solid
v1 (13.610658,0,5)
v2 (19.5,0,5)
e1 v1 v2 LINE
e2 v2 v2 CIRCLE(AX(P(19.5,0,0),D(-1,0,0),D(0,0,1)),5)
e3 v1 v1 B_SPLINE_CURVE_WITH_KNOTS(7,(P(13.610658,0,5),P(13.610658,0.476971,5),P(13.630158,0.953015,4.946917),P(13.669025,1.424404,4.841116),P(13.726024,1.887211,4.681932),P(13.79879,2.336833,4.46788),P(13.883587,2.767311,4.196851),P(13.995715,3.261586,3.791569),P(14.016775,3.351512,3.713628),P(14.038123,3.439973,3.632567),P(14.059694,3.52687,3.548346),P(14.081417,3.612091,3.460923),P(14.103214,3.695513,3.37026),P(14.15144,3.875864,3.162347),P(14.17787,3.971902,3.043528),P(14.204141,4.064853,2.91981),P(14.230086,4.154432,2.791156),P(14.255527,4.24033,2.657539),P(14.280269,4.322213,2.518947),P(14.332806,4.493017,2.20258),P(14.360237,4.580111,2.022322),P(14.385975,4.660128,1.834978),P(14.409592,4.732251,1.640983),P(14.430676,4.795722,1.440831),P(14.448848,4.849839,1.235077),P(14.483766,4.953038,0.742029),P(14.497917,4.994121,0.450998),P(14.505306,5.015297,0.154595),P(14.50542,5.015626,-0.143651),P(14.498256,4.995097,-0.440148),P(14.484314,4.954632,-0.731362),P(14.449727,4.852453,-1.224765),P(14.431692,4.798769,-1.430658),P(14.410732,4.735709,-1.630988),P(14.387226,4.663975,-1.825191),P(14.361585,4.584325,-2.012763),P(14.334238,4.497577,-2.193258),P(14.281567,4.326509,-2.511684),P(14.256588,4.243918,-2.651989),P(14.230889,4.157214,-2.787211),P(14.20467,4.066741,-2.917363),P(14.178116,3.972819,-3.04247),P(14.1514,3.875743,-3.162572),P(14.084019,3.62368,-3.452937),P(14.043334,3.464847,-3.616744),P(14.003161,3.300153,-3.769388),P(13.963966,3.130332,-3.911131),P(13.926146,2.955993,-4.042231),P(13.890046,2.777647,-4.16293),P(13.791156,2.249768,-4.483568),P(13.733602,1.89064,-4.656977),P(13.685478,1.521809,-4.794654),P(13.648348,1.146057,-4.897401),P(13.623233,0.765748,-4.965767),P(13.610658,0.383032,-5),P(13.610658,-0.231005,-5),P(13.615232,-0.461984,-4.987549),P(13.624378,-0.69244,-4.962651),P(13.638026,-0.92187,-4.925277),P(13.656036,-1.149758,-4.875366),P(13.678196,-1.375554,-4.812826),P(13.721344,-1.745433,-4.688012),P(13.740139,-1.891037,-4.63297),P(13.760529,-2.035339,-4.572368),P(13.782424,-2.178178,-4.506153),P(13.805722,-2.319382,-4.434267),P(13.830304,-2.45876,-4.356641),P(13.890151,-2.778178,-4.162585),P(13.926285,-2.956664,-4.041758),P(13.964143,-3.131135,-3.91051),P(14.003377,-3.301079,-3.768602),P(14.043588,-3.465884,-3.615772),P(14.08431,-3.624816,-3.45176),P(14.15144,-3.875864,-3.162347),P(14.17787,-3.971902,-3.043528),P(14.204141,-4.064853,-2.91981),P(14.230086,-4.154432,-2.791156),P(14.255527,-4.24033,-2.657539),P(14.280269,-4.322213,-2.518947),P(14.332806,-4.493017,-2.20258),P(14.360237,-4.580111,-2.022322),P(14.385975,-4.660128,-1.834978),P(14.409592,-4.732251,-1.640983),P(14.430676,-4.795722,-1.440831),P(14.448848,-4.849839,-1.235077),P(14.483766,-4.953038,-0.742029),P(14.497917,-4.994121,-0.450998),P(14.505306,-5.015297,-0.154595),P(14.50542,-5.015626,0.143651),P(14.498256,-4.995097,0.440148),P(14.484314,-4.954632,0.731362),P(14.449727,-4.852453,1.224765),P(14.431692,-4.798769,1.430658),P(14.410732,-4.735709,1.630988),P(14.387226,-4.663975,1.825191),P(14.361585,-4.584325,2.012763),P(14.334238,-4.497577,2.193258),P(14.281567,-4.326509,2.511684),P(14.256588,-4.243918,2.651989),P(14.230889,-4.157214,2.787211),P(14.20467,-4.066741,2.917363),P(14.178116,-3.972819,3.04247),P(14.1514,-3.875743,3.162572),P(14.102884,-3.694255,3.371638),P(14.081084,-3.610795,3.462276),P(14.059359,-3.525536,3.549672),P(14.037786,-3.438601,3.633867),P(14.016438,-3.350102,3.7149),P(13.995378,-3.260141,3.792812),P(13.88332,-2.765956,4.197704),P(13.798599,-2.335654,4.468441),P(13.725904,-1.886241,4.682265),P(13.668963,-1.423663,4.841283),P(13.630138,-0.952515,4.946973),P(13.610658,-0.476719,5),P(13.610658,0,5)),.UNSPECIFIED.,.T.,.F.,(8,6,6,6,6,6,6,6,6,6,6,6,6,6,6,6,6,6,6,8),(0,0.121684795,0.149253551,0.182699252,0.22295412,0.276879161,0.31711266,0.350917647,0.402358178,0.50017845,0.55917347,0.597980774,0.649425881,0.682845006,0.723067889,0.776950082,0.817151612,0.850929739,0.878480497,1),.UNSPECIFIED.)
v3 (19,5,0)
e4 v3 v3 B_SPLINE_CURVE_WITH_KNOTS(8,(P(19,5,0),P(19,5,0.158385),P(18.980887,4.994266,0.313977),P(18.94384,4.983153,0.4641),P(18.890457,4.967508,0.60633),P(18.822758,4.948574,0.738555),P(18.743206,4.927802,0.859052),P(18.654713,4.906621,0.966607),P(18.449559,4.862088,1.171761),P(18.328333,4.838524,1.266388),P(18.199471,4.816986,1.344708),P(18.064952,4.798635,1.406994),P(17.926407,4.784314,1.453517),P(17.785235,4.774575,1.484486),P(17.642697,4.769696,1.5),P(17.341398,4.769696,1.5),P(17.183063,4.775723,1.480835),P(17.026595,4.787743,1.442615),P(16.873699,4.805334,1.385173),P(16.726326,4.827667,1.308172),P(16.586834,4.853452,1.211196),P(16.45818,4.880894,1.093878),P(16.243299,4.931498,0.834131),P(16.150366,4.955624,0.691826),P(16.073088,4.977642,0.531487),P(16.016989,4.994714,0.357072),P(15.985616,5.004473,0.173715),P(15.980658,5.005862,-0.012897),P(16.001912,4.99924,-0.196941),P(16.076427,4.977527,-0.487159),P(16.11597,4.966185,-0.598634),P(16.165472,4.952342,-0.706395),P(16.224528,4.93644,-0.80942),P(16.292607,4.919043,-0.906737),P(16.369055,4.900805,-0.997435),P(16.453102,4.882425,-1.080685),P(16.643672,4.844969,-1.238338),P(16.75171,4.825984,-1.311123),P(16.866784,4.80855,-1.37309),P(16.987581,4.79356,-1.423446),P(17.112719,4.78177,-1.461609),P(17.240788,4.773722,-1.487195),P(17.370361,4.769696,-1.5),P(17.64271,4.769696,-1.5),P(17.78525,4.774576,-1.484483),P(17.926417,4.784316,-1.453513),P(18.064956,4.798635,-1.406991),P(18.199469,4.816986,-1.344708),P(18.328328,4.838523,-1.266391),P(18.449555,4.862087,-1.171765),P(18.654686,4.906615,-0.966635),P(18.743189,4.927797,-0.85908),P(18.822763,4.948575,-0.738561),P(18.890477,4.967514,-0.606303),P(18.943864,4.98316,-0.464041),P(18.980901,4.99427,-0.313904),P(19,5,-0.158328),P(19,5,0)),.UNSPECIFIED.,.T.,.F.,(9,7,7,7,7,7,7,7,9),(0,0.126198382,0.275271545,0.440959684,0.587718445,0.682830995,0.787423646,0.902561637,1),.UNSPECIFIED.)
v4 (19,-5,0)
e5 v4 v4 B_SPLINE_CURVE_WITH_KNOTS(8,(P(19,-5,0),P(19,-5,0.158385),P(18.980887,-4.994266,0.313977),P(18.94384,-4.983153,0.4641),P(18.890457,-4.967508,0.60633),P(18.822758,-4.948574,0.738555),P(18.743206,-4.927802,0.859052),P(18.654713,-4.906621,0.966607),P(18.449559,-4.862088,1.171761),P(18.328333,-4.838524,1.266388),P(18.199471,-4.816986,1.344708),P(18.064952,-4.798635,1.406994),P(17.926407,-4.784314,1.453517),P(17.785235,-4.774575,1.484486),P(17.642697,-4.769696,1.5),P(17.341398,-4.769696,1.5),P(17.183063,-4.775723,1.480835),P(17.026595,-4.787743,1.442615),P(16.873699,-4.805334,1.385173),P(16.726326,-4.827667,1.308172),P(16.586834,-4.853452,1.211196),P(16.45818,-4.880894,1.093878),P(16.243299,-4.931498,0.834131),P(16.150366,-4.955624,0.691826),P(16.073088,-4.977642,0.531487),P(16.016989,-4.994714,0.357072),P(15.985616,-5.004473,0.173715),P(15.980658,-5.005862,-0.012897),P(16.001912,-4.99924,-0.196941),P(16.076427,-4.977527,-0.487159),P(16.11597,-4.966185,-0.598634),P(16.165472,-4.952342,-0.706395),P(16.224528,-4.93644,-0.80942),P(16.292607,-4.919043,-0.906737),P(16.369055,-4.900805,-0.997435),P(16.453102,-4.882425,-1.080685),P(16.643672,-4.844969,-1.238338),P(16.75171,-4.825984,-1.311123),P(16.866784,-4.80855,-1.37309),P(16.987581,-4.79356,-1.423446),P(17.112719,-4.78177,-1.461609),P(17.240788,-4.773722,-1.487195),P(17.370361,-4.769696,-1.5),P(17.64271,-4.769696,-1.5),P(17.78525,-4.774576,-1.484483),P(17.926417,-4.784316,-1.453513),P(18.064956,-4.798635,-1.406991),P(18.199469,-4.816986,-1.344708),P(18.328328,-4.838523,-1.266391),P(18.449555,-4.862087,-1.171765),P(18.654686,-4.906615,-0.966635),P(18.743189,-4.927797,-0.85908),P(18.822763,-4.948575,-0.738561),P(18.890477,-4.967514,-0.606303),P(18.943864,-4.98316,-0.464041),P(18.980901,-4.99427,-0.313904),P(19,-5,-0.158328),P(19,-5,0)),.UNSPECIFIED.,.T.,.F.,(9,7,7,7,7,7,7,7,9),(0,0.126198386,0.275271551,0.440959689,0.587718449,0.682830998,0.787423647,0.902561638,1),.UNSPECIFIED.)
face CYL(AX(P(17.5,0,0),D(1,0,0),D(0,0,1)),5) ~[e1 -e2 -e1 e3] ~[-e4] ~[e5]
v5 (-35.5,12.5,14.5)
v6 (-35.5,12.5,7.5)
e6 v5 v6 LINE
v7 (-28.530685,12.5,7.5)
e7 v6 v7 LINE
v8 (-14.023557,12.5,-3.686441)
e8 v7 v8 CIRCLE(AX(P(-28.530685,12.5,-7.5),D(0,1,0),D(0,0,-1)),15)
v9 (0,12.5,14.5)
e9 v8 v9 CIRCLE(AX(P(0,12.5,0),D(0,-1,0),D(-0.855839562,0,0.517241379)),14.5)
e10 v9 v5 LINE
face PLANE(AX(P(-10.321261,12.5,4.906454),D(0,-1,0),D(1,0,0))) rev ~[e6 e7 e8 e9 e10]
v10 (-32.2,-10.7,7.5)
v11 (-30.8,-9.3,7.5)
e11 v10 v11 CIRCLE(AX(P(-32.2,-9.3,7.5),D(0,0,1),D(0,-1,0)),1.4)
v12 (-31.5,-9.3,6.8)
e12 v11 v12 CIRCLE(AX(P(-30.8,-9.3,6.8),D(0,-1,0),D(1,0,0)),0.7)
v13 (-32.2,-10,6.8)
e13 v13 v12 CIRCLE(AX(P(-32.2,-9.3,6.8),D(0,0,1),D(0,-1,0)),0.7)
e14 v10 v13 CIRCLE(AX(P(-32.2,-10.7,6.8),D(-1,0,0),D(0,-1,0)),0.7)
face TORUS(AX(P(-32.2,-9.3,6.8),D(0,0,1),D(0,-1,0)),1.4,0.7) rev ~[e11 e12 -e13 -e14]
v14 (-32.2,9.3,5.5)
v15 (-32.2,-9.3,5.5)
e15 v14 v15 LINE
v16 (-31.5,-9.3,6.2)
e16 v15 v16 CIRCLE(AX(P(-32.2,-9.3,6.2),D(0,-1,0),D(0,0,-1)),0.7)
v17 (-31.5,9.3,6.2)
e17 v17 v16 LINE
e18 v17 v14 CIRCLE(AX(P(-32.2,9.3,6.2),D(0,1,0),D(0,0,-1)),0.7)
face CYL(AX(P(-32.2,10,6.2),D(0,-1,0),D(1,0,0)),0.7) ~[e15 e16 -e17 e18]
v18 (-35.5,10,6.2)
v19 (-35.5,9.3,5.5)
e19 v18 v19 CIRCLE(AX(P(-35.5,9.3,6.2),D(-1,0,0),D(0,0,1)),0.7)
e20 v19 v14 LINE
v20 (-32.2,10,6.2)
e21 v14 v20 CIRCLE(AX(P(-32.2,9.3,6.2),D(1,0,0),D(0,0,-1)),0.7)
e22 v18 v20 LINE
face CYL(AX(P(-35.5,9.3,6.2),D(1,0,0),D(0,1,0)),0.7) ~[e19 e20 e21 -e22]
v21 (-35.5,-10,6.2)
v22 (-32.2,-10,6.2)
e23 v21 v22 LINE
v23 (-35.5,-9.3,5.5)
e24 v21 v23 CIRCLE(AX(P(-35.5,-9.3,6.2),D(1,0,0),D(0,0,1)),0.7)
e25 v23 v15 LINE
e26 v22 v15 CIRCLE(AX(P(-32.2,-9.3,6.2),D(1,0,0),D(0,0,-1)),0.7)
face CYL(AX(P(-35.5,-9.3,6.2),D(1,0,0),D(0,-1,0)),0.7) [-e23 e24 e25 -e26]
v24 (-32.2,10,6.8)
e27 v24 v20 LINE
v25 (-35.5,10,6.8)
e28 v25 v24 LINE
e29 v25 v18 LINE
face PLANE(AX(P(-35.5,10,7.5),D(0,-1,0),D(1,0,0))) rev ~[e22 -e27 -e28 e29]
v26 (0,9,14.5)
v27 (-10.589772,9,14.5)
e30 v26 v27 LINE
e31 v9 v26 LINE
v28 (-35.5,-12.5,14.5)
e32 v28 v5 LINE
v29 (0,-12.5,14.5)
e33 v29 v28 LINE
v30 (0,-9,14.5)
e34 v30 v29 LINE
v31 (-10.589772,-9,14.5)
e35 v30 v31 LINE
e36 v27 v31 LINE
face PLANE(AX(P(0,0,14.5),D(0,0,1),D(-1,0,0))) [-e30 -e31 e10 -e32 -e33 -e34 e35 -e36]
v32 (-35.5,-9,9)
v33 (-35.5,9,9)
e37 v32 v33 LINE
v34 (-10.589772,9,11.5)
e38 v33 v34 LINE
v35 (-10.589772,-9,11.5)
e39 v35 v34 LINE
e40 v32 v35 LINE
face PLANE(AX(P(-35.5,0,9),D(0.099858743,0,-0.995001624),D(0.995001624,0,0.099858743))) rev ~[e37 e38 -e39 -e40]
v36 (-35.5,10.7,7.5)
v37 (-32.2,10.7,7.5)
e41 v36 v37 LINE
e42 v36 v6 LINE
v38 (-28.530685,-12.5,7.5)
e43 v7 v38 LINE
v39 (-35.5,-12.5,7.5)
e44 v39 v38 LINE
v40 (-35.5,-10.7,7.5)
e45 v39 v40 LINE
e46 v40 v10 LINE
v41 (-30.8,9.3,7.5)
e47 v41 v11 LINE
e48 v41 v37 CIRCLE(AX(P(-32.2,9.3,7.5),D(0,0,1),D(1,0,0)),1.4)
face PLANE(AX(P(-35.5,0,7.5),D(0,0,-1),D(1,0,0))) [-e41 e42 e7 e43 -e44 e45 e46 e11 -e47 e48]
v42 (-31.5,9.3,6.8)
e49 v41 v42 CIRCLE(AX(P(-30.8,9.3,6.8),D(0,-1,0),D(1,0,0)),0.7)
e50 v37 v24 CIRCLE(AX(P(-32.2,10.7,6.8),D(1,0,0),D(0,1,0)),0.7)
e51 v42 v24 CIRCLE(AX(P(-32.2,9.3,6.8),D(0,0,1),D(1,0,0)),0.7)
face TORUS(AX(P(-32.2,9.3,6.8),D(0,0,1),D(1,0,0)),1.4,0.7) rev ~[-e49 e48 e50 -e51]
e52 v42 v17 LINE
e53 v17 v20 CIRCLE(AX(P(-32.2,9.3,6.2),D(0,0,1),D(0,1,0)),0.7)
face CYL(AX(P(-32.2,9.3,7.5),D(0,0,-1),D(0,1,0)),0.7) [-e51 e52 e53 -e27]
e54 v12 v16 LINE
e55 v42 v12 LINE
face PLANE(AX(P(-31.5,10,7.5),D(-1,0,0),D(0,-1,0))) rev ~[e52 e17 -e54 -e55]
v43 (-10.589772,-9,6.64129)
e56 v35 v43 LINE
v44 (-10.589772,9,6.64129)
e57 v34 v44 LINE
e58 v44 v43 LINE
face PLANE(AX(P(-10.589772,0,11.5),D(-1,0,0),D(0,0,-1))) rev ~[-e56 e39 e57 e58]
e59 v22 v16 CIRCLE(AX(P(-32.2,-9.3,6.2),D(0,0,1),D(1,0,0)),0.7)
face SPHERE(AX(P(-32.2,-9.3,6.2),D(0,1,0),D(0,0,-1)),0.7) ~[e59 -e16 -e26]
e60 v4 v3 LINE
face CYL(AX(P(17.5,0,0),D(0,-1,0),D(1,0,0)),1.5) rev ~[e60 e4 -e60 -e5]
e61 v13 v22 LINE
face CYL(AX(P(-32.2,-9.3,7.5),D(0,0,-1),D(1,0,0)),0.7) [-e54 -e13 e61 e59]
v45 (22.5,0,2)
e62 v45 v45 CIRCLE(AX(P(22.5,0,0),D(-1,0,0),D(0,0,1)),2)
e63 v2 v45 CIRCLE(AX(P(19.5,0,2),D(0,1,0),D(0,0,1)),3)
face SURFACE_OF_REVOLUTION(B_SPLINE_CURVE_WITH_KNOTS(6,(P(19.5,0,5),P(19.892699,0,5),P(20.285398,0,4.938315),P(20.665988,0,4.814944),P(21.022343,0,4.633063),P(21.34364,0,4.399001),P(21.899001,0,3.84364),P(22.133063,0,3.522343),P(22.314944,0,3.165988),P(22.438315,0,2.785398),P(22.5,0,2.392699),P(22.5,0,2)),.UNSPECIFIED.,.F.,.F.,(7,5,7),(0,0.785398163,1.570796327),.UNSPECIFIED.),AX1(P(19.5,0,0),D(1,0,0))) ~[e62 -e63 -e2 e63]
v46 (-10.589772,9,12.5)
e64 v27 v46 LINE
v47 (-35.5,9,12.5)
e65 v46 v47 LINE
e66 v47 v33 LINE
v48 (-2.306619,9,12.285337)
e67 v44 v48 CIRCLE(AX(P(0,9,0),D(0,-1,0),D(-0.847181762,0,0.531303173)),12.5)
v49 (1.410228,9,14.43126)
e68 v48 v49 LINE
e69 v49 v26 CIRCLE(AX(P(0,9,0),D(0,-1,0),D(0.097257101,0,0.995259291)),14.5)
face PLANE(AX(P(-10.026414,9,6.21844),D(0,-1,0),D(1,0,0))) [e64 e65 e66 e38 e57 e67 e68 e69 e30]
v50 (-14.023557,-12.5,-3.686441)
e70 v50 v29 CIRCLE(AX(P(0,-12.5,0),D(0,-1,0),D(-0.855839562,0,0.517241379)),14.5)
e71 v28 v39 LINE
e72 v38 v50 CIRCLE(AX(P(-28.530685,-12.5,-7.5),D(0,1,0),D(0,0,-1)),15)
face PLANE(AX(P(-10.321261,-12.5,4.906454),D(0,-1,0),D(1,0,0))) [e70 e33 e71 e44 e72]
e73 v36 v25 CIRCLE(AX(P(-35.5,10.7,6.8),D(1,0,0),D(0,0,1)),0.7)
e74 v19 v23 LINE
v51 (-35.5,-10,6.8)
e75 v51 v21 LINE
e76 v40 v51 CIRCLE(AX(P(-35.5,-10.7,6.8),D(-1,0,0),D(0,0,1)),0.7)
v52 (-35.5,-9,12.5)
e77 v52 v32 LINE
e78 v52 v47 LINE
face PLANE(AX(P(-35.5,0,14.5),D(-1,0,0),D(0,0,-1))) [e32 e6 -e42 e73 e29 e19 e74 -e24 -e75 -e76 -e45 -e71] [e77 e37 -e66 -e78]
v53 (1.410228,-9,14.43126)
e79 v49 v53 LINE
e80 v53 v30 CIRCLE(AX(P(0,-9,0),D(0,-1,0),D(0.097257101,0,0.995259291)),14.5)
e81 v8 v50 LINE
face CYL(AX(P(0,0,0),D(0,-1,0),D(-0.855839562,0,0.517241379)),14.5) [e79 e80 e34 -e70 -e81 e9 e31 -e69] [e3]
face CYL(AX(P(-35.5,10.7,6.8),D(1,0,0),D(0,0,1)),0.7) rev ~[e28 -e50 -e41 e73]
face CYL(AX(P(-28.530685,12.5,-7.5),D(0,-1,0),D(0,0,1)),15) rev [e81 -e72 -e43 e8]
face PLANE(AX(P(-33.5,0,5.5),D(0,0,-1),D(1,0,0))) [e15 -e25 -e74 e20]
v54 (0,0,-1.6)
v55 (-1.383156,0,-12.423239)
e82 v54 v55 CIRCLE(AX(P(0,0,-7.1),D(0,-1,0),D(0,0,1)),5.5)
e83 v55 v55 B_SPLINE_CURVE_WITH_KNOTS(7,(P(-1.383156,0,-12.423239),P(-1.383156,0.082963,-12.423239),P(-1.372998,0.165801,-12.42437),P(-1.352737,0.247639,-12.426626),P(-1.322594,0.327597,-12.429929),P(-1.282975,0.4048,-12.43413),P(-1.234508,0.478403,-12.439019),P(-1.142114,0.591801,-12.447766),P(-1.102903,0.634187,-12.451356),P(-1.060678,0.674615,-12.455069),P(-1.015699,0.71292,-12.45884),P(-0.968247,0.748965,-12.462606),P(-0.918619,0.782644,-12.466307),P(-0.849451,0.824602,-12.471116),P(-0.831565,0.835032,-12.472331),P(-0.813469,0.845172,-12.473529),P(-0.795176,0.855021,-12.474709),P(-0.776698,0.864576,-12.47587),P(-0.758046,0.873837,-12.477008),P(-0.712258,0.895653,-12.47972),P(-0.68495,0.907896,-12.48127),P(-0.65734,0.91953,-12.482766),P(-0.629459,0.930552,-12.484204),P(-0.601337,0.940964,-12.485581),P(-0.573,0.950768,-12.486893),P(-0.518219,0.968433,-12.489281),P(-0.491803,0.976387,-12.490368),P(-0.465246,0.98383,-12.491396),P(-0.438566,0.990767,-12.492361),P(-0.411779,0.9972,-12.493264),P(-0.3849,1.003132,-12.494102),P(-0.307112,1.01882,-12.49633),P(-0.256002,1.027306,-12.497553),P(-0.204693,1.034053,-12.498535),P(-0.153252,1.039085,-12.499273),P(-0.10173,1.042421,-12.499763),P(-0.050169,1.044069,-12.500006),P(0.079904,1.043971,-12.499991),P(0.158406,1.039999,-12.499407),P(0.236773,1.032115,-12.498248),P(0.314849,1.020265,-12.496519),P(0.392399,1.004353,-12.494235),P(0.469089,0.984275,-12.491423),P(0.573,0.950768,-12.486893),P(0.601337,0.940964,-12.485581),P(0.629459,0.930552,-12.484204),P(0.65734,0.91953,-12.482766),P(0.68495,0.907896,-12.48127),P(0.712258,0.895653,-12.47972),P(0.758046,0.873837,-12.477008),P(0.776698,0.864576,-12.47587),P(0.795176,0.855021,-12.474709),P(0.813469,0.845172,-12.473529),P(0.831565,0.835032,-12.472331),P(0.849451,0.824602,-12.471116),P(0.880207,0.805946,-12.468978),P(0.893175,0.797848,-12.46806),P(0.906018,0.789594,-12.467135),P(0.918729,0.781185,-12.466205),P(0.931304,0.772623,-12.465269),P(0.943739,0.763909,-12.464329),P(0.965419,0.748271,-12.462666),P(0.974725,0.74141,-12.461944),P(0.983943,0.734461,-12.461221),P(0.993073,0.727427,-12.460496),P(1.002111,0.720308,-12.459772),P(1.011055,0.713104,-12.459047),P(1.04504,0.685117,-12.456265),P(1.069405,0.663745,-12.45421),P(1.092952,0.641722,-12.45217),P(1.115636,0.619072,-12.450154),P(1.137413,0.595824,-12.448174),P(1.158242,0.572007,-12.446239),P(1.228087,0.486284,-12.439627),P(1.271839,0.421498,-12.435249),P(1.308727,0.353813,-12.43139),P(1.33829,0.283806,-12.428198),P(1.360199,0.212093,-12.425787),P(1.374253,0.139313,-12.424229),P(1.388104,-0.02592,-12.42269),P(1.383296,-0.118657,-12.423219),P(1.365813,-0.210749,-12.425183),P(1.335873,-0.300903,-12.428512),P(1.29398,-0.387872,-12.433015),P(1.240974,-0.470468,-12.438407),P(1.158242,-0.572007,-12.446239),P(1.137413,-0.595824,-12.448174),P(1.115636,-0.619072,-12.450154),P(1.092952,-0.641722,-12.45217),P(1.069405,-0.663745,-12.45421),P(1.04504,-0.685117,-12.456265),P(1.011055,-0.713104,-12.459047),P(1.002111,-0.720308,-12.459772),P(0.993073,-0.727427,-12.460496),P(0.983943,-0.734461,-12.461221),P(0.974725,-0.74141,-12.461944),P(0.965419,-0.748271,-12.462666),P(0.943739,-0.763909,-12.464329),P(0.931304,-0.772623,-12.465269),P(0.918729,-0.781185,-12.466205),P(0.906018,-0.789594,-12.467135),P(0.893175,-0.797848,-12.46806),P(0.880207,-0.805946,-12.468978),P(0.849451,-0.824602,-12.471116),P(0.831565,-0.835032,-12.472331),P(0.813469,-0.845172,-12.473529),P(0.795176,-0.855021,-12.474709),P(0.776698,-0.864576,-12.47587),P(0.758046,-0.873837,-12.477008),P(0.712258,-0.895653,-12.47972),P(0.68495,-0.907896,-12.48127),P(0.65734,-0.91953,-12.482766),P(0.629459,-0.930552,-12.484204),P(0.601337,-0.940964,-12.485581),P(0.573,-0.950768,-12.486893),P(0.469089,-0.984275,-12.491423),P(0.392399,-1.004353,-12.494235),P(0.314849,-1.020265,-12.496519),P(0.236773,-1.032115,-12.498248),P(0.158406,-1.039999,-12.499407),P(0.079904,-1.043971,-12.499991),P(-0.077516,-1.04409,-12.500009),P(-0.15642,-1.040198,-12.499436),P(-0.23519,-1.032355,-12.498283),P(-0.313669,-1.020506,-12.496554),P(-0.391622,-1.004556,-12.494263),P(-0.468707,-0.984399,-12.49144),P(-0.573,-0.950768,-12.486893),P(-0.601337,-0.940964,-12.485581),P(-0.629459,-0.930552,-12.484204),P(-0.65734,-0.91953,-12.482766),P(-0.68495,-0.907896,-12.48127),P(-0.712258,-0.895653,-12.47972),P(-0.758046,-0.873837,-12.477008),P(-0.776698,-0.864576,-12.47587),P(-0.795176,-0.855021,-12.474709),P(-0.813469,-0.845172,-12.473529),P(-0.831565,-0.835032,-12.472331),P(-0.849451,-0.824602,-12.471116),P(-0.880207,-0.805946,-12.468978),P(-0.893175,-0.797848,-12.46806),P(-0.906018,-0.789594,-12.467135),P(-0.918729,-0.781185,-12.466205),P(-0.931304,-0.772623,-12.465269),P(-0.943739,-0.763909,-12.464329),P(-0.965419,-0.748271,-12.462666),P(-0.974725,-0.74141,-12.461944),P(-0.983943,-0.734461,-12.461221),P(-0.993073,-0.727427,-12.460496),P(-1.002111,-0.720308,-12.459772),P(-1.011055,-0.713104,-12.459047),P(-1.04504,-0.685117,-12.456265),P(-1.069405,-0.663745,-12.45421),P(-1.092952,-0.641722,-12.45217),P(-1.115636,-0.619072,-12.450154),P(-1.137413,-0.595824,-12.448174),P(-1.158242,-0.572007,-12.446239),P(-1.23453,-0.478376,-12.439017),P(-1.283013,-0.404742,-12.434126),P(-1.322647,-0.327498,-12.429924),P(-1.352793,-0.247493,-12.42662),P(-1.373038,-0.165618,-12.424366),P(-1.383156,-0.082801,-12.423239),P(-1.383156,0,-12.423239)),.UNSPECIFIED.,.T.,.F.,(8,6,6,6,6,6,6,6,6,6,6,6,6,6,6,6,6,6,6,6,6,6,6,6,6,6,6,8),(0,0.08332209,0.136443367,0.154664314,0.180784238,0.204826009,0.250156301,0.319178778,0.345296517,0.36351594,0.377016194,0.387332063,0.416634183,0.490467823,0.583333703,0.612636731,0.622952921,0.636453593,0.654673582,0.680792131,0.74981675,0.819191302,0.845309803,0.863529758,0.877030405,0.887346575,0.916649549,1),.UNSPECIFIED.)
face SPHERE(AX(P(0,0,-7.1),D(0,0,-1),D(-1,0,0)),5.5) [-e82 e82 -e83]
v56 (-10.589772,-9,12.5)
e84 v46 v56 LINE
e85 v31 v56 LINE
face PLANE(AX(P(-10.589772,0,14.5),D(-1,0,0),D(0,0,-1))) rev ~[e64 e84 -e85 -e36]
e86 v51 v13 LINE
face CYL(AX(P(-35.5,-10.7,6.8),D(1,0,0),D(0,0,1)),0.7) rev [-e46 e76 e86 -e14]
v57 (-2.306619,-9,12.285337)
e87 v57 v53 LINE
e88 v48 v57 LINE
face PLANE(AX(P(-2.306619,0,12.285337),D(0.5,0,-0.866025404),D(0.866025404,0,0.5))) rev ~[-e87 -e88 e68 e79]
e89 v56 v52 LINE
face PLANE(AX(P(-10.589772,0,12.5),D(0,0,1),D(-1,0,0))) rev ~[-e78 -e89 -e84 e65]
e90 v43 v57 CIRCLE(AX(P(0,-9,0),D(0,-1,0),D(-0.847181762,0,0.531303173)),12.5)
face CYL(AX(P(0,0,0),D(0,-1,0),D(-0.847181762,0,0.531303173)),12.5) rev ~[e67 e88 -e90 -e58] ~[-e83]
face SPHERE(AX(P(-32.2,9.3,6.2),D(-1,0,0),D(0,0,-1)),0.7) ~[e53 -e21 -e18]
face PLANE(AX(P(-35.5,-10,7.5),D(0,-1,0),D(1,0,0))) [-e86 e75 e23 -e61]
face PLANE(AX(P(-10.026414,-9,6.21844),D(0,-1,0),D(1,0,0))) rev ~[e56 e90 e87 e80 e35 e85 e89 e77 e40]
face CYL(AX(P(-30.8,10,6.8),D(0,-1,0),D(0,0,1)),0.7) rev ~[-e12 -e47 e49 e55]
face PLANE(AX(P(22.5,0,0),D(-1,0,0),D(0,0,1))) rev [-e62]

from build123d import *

# Parameters (mm, degrees)
F1_DEPTH      = 12.5
F3_DEPTH      = 9
F4_W          = 10
F4_H          = 5
F6_R          = 3
F7_R          = 1.5
F8_DEPTH      = 12.5010001
F8_DEPTH_BACK = 12.5010001
F9_W          = 4
F9_H          = 20
F10_DEPTH     = 2
F11_R         = 0.7
F12_R         = 15


with BuildPart() as f1:
    # F0 (on Front) → F1 (new body, symmetric)
    with BuildSketch(Plane.XZ):
        with BuildLine():
            Line((-35.5, 7.5), (-12.409673646, 7.5))
            ThreePointArc((-12.409673646, 7.5), (7.1239034244, -12.6293309403), (0, 14.5))
            Line((0, 14.5), (-35.5, 14.5))
            Line((-35.5, 14.5), (-35.5, 7.5))
        make_face()
    extrude(amount=F1_DEPTH, both=True)

    # F2 (on Front) → F3 (cut, symmetric)
    with BuildSketch(Plane.XZ):
        with BuildLine():
            Line((-10.5897720282, 11.5), (-10.5897720282, 6.6412896632))
            ThreePointArc((-10.5897720282, 6.6412896632), (7.0386819061, -10.3299059543), (-2.3066189308, 12.2853371589))
            Line((-2.3066189308, 12.2853371589), (1.4102279718, 14.4312597187))
            ThreePointArc((1.4102279718, 14.4312597187), (0.7059511596, 14.4828047339), (0, 14.5))
            Line((0, 14.5), (-10.5897720282, 14.5))
            Line((-10.5897720282, 14.5), (-10.5897720282, 12.5))
            Line((-10.5897720282, 12.5), (-35.5, 12.5))
            Line((-35.5, 12.5), (-35.5, 9))
            Line((-35.5, 9), (-10.5897720282, 11.5))
        make_face()
    extrude(amount=F3_DEPTH, both=True, mode=Mode.SUBTRACT)

    # F4 (on Front) → F5 (revolve)
    with BuildSketch(Plane.XZ):
        with Locations((17.5, 2.5)):
            Rectangle(F4_W, F4_H)
    revolve(axis=Axis((17.5, 0, 0), (-1, 0, 0)))

    # F6
    f6_edges = [f1.edges().sort_by_distance(p)[0] for p in [
        (22.5, 0, -5),
    ]]
    fillet(f6_edges, radius=F6_R)

    # F7 (on Front) → F8 (cut, two sides)
    with BuildSketch(Plane.XZ) as f8_sk:
        with Locations((17.5, 0)):
            Circle(F7_R)
    extrude(amount=-F8_DEPTH, mode=Mode.SUBTRACT)
    extrude(f8_sk.sketch, amount=F8_DEPTH_BACK, mode=Mode.SUBTRACT)

    # F9 (on face) → F10 (join)
    with BuildSketch(Plane(origin=(0, 0, 7.5), x_dir=(1, 0, 0), z_dir=(0, 0, -1))):
        with Locations((-33.5, 0)):
            Rectangle(F9_W, F9_H)
    extrude(amount=F10_DEPTH)

    # F11
    f11_edges = [f1.edges().sort_by_distance(p)[0] for p in [
        (-33.5, -10, 7.5),
        (-31.5, 0, 7.5),
        (-33.5, 10, 7.5),
        (-33.5, 10, 5.5),
        (-31.5, 0, 5.5),
        (-33.5, -10, 5.5),
        (-31.5, 10, 6.5),
        (-31.5, -10, 6.5),
    ]]
    fillet(f11_edges, radius=F11_R)

    # F12
    f12_edges = [f1.edges().sort_by_distance(p)[0] for p in [
        (-12.409674, 0, 7.5),
    ]]
    fillet(f12_edges, radius=F12_R)

    # F13 (on Front) → F14 (revolve)
    with BuildSketch(Plane.XZ):
        with BuildLine():
            Line((0, -12.6), (0, -1.6))
            ThreePointArc((0, -1.6), (-5.5, -7.1), (0, -12.6))
        make_face()
    revolve(axis=Axis((0, 0, -7.1), (0, 0, -1)))


solid = f1.part
